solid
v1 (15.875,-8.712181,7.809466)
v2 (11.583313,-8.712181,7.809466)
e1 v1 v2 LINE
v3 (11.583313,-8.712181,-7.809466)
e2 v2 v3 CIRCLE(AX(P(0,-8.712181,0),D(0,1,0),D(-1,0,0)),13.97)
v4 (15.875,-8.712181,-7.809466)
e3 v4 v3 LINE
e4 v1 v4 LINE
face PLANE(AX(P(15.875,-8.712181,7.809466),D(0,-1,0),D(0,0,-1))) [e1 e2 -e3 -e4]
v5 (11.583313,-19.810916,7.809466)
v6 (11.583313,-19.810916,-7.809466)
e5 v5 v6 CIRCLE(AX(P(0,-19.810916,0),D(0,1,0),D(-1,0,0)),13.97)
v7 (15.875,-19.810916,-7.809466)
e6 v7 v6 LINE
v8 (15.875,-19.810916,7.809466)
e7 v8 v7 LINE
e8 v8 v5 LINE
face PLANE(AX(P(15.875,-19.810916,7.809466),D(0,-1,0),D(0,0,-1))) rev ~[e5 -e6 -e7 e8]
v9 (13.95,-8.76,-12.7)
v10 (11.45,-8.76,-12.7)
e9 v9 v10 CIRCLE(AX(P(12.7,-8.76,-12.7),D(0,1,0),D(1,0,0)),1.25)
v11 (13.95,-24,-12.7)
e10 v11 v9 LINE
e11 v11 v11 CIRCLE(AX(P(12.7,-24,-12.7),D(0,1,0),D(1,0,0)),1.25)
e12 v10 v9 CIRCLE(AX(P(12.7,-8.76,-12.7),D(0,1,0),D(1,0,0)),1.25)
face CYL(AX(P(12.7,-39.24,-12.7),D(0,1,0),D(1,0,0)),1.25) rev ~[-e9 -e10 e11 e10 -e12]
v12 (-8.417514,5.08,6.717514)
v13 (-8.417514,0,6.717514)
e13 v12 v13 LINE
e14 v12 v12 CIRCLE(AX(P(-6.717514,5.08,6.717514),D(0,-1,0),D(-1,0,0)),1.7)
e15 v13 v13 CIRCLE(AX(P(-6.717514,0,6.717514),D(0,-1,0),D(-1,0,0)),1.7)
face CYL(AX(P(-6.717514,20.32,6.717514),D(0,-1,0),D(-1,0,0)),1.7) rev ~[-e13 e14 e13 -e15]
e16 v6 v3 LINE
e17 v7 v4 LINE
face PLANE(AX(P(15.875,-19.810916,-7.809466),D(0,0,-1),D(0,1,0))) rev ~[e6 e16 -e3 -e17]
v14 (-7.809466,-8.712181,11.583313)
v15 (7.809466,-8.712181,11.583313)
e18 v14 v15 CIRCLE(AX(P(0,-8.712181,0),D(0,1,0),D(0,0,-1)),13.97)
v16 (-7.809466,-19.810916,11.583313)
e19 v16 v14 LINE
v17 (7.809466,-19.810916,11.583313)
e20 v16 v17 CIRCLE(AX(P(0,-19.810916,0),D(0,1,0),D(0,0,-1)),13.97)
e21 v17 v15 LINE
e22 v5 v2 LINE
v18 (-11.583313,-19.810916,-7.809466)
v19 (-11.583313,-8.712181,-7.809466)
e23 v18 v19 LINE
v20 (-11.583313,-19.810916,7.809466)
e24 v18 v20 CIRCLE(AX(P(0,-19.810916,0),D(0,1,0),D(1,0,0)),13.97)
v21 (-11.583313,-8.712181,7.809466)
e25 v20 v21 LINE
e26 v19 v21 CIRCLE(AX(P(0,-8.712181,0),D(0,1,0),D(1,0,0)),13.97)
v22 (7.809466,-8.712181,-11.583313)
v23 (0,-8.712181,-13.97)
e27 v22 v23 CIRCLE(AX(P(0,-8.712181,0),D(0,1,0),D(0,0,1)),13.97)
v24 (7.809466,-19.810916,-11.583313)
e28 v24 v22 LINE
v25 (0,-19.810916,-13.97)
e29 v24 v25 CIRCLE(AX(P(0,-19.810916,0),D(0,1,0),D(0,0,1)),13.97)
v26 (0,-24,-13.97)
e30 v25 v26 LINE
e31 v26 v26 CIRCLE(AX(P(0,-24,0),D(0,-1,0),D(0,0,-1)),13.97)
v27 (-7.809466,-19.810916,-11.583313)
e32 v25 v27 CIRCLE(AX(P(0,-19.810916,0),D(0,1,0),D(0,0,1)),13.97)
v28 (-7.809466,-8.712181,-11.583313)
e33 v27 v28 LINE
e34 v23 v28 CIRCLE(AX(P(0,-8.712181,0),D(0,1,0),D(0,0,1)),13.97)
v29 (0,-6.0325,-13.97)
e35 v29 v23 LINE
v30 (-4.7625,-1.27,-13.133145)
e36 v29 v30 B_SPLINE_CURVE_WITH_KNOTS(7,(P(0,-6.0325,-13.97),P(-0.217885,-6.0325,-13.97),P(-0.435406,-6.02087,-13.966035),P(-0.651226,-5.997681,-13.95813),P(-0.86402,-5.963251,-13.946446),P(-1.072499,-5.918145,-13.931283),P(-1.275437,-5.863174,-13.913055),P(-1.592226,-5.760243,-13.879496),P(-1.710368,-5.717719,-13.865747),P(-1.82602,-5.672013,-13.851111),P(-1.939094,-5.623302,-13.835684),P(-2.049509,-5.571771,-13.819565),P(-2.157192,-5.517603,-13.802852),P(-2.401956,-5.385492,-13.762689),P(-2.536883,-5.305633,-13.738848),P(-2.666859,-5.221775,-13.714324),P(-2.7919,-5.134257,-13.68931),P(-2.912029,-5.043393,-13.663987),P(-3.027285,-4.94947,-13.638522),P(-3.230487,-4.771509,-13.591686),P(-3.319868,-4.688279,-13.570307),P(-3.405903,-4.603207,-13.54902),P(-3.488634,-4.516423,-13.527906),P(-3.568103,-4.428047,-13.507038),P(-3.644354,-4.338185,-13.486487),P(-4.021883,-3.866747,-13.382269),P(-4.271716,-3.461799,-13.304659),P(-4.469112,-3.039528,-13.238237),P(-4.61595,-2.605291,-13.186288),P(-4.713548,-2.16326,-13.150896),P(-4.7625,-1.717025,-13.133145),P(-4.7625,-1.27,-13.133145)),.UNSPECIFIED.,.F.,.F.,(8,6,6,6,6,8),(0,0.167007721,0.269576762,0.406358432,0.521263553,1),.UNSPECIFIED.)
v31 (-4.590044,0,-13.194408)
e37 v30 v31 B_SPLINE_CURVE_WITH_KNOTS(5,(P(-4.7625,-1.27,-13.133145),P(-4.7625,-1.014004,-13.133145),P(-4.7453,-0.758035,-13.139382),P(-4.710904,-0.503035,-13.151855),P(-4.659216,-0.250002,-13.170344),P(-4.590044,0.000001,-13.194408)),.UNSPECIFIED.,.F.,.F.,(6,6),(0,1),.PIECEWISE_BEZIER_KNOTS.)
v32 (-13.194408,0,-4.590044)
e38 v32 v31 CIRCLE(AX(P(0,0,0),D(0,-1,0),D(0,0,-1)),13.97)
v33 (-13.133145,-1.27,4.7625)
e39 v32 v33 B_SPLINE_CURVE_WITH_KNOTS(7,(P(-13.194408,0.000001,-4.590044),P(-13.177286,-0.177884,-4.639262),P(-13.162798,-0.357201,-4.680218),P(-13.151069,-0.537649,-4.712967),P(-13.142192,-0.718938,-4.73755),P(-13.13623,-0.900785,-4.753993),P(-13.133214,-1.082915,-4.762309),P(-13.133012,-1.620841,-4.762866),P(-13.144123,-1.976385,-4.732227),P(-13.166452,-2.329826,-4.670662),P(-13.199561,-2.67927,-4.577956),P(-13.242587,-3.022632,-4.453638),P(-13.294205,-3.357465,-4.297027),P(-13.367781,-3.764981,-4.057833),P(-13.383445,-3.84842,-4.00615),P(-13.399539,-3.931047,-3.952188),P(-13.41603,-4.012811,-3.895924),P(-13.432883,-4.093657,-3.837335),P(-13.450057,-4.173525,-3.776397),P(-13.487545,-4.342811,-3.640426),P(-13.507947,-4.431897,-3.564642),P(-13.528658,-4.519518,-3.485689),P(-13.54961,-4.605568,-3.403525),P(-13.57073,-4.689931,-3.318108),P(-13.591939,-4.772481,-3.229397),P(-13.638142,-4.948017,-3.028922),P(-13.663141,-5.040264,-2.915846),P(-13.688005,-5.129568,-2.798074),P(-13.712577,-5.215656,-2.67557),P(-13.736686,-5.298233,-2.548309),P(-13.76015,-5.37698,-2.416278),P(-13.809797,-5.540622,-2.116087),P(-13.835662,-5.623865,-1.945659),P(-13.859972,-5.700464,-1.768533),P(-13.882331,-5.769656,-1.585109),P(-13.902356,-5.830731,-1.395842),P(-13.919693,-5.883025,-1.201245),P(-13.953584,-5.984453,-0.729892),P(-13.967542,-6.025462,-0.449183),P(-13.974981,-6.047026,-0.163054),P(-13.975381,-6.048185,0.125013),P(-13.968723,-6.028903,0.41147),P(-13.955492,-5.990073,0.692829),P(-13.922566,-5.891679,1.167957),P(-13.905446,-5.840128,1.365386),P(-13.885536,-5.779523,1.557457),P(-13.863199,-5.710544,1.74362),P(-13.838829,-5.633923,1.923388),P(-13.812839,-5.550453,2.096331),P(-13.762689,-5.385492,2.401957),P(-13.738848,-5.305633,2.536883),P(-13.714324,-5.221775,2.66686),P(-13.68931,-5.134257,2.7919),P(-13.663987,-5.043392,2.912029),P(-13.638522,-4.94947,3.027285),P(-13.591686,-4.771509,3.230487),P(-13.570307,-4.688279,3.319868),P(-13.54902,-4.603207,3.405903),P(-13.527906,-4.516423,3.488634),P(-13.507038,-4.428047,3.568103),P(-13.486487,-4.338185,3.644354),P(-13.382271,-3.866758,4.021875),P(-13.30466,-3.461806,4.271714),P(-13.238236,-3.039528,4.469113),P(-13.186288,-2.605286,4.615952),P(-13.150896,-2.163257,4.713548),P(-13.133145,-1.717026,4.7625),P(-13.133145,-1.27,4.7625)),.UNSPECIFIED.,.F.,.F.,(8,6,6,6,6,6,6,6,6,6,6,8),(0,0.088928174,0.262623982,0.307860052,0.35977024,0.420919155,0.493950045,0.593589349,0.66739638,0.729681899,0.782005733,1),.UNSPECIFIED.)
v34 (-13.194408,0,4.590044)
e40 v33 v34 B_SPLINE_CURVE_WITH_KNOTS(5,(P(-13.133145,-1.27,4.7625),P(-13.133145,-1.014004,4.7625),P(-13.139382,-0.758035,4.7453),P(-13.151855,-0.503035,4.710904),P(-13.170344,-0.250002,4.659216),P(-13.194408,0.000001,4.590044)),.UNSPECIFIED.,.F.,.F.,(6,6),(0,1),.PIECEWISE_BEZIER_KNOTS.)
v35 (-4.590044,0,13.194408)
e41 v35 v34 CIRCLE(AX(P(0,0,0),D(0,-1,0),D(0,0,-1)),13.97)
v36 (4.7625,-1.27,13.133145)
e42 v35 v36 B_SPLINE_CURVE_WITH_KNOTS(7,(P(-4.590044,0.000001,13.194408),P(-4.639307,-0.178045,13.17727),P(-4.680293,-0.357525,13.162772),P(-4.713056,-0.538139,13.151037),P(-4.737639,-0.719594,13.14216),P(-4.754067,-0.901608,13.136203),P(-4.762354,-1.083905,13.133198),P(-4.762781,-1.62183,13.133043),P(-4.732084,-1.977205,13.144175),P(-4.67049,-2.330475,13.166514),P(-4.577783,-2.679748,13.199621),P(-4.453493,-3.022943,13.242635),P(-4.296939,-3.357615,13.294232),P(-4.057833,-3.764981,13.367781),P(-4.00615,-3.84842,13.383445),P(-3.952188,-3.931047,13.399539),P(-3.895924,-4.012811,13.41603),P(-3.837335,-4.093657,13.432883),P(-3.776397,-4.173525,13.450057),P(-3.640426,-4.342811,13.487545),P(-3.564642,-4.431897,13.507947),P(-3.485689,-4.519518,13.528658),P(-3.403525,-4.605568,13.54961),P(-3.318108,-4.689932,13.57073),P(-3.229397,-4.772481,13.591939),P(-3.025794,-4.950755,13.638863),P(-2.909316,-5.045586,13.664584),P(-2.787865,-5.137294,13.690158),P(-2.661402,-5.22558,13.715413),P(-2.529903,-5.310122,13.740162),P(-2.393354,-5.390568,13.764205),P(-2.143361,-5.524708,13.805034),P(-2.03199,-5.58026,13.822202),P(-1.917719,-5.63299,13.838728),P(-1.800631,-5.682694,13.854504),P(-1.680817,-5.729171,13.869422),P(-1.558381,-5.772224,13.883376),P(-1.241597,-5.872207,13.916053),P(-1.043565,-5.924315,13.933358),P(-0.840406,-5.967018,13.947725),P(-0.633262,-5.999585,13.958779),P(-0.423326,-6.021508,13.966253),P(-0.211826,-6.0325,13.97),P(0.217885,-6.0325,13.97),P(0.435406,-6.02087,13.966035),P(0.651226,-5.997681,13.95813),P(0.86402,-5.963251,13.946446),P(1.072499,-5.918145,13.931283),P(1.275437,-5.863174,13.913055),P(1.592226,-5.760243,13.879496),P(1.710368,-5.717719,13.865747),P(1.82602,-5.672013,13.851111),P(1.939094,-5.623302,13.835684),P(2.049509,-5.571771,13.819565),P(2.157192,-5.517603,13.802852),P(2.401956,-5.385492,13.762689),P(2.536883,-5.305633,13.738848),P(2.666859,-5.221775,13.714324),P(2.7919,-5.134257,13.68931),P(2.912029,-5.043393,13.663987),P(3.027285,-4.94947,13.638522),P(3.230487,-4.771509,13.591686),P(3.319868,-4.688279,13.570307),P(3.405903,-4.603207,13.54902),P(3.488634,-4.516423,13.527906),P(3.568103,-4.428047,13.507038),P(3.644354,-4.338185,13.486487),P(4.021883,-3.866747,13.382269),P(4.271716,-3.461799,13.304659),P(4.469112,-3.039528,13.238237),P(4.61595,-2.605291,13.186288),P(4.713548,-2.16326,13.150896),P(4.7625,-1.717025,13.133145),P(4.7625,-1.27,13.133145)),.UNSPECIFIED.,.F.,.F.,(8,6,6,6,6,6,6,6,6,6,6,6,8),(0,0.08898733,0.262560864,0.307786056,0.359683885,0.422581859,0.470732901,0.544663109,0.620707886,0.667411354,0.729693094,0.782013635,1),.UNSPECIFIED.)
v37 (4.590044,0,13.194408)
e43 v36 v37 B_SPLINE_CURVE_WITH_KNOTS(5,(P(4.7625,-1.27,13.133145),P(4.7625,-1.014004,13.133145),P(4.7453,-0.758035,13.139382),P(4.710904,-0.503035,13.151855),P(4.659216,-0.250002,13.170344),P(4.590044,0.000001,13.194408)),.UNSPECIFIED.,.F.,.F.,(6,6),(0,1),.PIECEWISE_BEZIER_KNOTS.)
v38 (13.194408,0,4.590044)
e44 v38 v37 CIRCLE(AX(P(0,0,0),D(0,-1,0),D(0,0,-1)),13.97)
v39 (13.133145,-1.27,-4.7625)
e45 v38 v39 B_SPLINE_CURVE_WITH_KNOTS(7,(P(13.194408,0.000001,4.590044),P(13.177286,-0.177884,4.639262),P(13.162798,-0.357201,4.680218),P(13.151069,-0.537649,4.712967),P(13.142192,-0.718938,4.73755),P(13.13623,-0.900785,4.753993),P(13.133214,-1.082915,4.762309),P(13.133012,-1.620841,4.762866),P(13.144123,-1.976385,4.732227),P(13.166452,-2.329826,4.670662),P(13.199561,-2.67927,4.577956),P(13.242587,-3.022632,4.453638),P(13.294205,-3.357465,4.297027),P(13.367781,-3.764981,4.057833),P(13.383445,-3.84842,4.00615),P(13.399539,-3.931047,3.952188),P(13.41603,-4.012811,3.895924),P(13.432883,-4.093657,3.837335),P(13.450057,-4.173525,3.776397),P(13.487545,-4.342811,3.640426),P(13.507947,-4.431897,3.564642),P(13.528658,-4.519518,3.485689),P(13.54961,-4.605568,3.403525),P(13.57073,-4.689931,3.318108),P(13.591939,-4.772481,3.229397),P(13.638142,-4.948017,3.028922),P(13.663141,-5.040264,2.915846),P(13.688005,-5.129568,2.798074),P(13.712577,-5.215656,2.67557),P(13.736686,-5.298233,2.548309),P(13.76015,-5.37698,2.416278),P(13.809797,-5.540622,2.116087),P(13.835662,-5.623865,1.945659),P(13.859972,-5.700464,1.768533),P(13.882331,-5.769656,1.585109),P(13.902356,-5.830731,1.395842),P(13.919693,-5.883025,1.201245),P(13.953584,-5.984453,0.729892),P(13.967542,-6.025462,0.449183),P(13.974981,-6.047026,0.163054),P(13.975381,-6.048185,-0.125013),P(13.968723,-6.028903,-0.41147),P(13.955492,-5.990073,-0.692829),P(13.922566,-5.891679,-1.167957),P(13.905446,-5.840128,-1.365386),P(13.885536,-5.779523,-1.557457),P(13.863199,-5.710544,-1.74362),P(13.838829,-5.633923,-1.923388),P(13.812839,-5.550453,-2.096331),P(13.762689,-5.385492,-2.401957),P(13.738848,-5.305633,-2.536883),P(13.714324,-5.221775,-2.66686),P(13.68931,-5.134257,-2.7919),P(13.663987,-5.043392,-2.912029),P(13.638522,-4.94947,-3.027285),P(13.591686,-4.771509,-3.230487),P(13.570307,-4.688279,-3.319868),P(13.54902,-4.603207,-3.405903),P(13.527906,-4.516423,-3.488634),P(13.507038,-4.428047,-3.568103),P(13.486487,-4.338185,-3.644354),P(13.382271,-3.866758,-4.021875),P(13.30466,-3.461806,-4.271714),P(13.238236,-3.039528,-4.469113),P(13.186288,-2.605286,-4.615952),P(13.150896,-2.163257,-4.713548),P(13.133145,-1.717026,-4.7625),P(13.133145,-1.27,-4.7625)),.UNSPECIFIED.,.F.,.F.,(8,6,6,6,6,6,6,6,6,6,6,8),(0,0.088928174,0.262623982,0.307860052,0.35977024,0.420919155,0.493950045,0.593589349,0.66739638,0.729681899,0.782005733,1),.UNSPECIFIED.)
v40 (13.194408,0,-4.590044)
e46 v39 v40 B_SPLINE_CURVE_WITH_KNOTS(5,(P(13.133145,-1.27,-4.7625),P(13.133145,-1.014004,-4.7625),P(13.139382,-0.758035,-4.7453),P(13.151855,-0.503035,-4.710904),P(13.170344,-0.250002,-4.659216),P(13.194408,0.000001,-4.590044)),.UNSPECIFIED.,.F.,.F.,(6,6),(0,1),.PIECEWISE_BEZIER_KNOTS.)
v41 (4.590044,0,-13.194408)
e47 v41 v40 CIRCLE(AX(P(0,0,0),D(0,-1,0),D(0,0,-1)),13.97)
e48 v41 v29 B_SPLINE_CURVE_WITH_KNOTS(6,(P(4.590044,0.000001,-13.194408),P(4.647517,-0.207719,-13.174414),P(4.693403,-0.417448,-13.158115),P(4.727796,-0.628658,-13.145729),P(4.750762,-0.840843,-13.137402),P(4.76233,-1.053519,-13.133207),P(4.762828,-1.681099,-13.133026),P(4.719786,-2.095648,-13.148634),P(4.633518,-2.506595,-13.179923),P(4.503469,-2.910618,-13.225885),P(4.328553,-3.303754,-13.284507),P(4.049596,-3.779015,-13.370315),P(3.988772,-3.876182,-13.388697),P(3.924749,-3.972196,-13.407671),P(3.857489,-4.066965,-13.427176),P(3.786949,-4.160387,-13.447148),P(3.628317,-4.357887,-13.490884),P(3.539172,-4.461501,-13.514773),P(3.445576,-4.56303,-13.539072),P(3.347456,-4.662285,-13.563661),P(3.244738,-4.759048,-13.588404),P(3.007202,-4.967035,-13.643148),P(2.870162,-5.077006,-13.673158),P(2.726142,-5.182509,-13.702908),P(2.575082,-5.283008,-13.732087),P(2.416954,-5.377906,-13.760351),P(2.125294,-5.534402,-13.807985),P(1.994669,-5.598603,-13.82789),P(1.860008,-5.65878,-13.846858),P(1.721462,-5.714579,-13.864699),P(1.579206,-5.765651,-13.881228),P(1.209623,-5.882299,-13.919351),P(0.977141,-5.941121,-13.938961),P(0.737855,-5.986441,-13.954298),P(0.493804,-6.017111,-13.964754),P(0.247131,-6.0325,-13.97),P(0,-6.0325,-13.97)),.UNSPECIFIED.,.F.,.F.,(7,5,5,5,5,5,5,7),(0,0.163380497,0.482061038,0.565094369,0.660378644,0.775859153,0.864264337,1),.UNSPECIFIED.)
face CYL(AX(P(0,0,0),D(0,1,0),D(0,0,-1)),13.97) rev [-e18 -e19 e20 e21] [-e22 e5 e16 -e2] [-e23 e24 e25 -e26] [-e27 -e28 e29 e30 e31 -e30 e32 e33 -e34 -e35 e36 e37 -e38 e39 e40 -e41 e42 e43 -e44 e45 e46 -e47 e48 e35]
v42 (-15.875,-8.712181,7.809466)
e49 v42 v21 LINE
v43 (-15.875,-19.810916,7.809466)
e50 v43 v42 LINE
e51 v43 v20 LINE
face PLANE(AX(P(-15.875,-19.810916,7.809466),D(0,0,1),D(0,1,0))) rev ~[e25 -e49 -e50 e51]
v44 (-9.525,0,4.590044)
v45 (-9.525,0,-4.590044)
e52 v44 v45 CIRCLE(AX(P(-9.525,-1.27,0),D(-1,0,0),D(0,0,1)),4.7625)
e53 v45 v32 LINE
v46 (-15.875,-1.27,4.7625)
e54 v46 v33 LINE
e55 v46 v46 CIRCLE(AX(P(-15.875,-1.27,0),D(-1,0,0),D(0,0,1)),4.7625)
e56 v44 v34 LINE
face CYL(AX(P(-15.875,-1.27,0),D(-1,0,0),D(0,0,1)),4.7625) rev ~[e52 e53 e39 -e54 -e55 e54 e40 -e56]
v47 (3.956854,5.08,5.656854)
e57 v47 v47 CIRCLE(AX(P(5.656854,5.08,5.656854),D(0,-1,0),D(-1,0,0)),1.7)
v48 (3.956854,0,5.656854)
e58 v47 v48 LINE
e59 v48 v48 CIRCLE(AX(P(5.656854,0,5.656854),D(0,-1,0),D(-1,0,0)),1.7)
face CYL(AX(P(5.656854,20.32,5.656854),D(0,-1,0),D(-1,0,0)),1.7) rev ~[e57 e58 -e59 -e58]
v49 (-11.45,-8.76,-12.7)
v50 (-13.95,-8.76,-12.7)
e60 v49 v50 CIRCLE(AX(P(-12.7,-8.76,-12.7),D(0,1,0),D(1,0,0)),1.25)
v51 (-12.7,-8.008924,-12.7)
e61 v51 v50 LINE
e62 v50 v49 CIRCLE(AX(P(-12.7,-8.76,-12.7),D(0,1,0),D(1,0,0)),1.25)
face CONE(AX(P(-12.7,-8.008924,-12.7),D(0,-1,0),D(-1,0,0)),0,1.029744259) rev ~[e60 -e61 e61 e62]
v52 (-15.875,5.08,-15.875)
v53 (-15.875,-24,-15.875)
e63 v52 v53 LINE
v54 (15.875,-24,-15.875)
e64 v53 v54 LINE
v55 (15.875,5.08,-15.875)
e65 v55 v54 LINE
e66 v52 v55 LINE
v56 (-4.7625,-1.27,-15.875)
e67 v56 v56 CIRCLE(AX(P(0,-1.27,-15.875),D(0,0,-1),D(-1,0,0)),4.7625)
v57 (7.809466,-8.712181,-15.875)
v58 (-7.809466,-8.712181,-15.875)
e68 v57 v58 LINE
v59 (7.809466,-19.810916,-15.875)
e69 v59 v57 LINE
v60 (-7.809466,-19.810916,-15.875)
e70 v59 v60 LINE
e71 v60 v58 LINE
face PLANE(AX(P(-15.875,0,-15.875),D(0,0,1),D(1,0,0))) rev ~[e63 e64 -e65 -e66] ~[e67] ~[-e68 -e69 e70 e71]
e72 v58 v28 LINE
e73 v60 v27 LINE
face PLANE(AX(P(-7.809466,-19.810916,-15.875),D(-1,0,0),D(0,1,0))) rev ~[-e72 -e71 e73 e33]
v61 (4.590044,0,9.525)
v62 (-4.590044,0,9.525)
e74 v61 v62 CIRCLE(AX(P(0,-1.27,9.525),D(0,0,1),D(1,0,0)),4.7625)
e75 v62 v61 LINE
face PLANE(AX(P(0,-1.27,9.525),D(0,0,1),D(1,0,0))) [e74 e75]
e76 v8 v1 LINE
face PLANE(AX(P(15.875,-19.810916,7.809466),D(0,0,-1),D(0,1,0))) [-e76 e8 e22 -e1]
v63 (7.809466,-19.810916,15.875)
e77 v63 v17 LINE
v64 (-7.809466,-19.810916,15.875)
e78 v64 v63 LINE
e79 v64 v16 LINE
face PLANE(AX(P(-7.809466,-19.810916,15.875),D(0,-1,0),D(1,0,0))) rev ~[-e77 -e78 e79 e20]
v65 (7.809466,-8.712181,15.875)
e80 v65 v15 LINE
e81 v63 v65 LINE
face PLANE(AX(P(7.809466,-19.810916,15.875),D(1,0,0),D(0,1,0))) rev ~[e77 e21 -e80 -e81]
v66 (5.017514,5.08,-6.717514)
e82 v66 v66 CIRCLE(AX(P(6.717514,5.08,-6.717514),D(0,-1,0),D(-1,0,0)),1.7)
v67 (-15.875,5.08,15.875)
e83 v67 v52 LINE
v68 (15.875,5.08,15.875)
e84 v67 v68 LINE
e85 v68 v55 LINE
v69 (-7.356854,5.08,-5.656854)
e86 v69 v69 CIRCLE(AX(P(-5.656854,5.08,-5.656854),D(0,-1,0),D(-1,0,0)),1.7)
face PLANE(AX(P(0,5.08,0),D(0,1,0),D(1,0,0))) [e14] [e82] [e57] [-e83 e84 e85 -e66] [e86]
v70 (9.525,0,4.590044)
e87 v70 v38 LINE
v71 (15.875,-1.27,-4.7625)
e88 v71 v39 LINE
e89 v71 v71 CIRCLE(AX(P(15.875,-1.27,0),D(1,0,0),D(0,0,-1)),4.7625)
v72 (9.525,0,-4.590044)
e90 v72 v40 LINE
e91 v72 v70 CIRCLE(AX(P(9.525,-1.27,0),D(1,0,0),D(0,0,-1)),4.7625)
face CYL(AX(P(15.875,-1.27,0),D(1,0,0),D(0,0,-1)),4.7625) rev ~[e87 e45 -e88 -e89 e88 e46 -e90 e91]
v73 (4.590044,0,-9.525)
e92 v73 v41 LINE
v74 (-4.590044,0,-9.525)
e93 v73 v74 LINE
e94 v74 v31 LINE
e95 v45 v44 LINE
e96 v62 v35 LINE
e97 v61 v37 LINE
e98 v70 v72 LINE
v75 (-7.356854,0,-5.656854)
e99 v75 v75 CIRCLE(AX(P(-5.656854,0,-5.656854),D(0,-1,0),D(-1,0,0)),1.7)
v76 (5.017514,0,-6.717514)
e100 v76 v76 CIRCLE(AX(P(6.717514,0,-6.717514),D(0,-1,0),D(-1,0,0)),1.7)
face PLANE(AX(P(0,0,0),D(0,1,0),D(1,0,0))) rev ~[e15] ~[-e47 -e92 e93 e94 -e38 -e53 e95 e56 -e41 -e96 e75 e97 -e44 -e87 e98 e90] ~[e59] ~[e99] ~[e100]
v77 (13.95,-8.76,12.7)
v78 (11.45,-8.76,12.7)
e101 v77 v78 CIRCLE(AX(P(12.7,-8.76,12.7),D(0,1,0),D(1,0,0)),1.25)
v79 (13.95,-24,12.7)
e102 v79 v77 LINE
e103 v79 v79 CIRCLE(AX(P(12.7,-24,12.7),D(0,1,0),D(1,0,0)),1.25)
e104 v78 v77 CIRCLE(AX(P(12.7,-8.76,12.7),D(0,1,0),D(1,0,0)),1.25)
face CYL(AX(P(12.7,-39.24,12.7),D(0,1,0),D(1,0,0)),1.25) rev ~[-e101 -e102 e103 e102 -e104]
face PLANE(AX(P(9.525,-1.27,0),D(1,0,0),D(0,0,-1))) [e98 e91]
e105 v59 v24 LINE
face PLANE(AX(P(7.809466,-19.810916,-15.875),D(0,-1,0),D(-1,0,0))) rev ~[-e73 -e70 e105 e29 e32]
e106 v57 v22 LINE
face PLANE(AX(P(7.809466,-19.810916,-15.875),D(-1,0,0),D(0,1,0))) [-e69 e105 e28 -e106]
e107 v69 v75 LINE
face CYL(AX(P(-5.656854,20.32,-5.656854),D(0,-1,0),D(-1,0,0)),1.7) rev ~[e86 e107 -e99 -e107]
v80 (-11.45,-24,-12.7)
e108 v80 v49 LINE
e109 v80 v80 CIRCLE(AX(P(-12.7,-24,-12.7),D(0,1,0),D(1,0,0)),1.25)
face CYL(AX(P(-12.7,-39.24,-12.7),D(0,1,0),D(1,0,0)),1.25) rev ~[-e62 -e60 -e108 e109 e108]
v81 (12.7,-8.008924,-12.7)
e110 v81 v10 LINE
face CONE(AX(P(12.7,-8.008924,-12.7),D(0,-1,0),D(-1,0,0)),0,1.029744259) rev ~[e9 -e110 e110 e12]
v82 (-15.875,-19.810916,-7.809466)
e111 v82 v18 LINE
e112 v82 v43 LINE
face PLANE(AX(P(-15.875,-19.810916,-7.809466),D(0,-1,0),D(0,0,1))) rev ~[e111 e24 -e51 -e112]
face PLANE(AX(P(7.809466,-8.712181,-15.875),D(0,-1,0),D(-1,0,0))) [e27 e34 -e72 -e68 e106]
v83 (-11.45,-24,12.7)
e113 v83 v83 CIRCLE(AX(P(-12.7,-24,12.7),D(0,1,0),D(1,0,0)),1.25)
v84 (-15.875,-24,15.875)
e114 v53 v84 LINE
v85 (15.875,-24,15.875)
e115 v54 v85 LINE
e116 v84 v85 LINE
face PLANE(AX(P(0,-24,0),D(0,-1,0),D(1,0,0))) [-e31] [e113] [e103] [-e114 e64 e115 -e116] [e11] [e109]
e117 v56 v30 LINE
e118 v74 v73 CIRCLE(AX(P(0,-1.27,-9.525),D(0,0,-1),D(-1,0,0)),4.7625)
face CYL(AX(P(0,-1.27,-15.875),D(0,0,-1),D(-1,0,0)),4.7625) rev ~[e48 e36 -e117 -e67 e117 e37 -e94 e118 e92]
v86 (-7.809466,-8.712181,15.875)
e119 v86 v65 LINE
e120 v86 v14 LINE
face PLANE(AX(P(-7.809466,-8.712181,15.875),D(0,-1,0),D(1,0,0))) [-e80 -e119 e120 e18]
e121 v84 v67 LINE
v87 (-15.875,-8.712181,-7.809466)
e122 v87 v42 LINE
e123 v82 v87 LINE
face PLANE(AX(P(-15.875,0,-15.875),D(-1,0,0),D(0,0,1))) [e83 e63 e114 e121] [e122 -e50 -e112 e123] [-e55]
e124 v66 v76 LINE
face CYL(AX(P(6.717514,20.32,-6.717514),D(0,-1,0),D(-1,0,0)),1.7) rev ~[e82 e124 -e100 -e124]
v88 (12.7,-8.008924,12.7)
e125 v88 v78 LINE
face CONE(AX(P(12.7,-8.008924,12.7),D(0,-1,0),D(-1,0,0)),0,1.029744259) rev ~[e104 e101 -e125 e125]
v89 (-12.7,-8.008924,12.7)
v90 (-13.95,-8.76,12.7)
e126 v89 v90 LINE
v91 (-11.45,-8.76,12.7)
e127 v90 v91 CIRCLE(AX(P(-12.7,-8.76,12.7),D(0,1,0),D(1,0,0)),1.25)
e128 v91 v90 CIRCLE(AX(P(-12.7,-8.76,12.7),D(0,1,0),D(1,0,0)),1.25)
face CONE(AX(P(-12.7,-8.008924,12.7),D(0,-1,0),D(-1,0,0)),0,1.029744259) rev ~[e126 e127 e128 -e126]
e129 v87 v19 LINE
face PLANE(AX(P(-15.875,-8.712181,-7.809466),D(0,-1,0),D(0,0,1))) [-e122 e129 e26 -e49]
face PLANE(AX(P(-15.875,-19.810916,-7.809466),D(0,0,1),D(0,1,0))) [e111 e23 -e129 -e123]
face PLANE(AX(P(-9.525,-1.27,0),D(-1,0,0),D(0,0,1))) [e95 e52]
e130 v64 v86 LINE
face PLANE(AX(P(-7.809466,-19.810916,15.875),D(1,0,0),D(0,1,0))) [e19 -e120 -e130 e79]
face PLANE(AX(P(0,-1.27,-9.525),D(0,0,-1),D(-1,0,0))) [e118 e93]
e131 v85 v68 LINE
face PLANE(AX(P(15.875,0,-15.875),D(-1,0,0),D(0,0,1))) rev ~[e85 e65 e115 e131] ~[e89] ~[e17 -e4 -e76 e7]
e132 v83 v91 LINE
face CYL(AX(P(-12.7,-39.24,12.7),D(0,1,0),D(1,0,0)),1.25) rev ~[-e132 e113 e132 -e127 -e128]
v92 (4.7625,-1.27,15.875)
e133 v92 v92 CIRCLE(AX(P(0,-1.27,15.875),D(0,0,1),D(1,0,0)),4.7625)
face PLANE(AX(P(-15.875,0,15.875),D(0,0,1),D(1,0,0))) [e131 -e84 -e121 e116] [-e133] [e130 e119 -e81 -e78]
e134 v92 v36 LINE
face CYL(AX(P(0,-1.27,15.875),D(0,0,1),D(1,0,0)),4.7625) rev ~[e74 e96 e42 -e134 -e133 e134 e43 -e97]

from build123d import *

# Parameters (mm, degrees)
SKETCH1_W                 = 31.75
SKETCH1_H                 = 31.75
BOSS_EXTRUDE1_DEPTH       = 5.08
M3_CLEARANCE_HOLE1_D      = 3.4
M3_CLEARANCE_HOLE1_DEPTH  = 15.24
M3_CLEARANCE_HOLE1_TIP    = 1.021463052
SKETCH7_W                 = 31.75
SKETCH7_H                 = 31.75
SKETCH7_R                 = 13.97
BOSS_EXTRUDE2_DEPTH       = 24
M3X0_5_TAPPED_HOLE1_D     = 2.5
M3X0_5_TAPPED_HOLE1_DEPTH = 15.24
M3X0_5_TAPPED_HOLE1_TIP   = 0.751075774
SKETCH12_R                = 4.7625
CUT_EXTRUDE1_DEPTH        = 6.35
CUT_EXTRUDE2_REACH        = 44.849
CUT_EXTRUDE2_END_RADIUS   = 13.97
SKETCH13_W                = 15.618932536
SKETCH13_H                = 11.098734185
CIRPATTERN1_COUNT         = 4
CIRPATTERN2_COUNT         = 4


with BuildPart() as part:
    # Sketch1 → Boss-Extrude1 (new body)
    with BuildSketch(Plane(origin=(0, 0, 0), x_dir=(1, 0, 0), z_dir=(0, 1, 0))):
        Rectangle(SKETCH1_W, SKETCH1_H)
    extrude(amount=BOSS_EXTRUDE1_DEPTH)

    # M3 Clearance Hole1
    with Locations(Plane(origin=(0, 5.08, 0), x_dir=(1, 0, 0), z_dir=(0, 1, 0))):
        with Locations((-5.656854249, 5.656854249), (6.717514421, 6.717514421), (5.656854249, -5.656854249), (-6.717514421, -6.717514421)):
            Hole(M3_CLEARANCE_HOLE1_D / 2, depth=M3_CLEARANCE_HOLE1_DEPTH)
            with Locations((0, 0, -(M3_CLEARANCE_HOLE1_DEPTH + M3_CLEARANCE_HOLE1_TIP / 2))):  # 118° drill point
                Cone(0, M3_CLEARANCE_HOLE1_D / 2, M3_CLEARANCE_HOLE1_TIP, mode=Mode.SUBTRACT)

    # Sketch7 → Boss-Extrude2 (add)
    with BuildSketch(Plane.XZ):
        Rectangle(SKETCH7_W, SKETCH7_H)
        with Locations(Location((0, 0, 0), (0, 0, 270))):
            Circle(SKETCH7_R, mode=Mode.SUBTRACT)
    extrude(amount=BOSS_EXTRUDE2_DEPTH)

    # M3x0.5 Tapped Hole1
    with Locations(Plane(origin=(0, -24, 0), x_dir=(-1, 0, 0), z_dir=(0, -1, 0))):
        with Locations((-12.7, 12.7), (12.7, 12.7), (12.7, -12.7), (-12.7, -12.7)):
            Hole(M3X0_5_TAPPED_HOLE1_D / 2, depth=M3X0_5_TAPPED_HOLE1_DEPTH)
            with Locations((0, 0, -(M3X0_5_TAPPED_HOLE1_DEPTH + M3X0_5_TAPPED_HOLE1_TIP / 2))):  # 118° drill point
                Cone(0, M3X0_5_TAPPED_HOLE1_D / 2, M3X0_5_TAPPED_HOLE1_TIP, mode=Mode.SUBTRACT)

    # Sketch12 → Cut-Extrude1 (cut)
    with BuildSketch(Plane(origin=(0, 0, -15.875), x_dir=(-1, 0, 0), z_dir=(0, 0, -1))):
        with Locations((0, -1.27)):
            Circle(SKETCH12_R)
    cut_extrude1 = extrude(amount=-CUT_EXTRUDE1_DEPTH, mode=Mode.SUBTRACT)

    # Cut-Extrude2: up to this cylinder (the profile starts outside it)
    cut_extrude2_end = Plane(origin=(0, -14.261548, 0), z_dir=(0, 1, 0)) * Cylinder(CUT_EXTRUDE2_END_RADIUS, 118.638, mode=Mode.PRIVATE)
    # Sketch13 → Cut-Extrude2 (cut, up to the surface)
    with BuildSketch(Plane(origin=(0, 0, -15.875), x_dir=(-1, 0, 0), z_dir=(0, 0, -1)), mode=Mode.PRIVATE) as cut_extrude2_sk1:
        with Locations((0, -14.261548471)):
            Rectangle(SKETCH13_W, SKETCH13_H)
    cut_extrude2_tool1 = extrude(cut_extrude2_sk1.sketch, amount=-CUT_EXTRUDE2_REACH, mode=Mode.PRIVATE) - cut_extrude2_end
    cut_extrude2 = cut_extrude2_tool1.solids().sort_by_distance((0, -14.261548, -15.875))[0]
    add(cut_extrude2, mode=Mode.SUBTRACT)

    # CirPattern1: Cut-Extrude2 ×4 about axis
    cirpattern1_axis = Axis((0, 0, 0), (0, 1, 0))
    for i in range(1, CIRPATTERN1_COUNT):
        add(cut_extrude2.rotate(cirpattern1_axis, i * 360 / CIRPATTERN1_COUNT), mode=Mode.SUBTRACT)

    # CirPattern2: Cut-Extrude1 ×4 about axis
    cirpattern2_axis = Axis((0, 0, 0), (0, 1, 0))
    for i in range(1, CIRPATTERN2_COUNT):
        add(cut_extrude1.rotate(cirpattern2_axis, i * 360 / CIRPATTERN2_COUNT), mode=Mode.SUBTRACT)


solid = part.part
